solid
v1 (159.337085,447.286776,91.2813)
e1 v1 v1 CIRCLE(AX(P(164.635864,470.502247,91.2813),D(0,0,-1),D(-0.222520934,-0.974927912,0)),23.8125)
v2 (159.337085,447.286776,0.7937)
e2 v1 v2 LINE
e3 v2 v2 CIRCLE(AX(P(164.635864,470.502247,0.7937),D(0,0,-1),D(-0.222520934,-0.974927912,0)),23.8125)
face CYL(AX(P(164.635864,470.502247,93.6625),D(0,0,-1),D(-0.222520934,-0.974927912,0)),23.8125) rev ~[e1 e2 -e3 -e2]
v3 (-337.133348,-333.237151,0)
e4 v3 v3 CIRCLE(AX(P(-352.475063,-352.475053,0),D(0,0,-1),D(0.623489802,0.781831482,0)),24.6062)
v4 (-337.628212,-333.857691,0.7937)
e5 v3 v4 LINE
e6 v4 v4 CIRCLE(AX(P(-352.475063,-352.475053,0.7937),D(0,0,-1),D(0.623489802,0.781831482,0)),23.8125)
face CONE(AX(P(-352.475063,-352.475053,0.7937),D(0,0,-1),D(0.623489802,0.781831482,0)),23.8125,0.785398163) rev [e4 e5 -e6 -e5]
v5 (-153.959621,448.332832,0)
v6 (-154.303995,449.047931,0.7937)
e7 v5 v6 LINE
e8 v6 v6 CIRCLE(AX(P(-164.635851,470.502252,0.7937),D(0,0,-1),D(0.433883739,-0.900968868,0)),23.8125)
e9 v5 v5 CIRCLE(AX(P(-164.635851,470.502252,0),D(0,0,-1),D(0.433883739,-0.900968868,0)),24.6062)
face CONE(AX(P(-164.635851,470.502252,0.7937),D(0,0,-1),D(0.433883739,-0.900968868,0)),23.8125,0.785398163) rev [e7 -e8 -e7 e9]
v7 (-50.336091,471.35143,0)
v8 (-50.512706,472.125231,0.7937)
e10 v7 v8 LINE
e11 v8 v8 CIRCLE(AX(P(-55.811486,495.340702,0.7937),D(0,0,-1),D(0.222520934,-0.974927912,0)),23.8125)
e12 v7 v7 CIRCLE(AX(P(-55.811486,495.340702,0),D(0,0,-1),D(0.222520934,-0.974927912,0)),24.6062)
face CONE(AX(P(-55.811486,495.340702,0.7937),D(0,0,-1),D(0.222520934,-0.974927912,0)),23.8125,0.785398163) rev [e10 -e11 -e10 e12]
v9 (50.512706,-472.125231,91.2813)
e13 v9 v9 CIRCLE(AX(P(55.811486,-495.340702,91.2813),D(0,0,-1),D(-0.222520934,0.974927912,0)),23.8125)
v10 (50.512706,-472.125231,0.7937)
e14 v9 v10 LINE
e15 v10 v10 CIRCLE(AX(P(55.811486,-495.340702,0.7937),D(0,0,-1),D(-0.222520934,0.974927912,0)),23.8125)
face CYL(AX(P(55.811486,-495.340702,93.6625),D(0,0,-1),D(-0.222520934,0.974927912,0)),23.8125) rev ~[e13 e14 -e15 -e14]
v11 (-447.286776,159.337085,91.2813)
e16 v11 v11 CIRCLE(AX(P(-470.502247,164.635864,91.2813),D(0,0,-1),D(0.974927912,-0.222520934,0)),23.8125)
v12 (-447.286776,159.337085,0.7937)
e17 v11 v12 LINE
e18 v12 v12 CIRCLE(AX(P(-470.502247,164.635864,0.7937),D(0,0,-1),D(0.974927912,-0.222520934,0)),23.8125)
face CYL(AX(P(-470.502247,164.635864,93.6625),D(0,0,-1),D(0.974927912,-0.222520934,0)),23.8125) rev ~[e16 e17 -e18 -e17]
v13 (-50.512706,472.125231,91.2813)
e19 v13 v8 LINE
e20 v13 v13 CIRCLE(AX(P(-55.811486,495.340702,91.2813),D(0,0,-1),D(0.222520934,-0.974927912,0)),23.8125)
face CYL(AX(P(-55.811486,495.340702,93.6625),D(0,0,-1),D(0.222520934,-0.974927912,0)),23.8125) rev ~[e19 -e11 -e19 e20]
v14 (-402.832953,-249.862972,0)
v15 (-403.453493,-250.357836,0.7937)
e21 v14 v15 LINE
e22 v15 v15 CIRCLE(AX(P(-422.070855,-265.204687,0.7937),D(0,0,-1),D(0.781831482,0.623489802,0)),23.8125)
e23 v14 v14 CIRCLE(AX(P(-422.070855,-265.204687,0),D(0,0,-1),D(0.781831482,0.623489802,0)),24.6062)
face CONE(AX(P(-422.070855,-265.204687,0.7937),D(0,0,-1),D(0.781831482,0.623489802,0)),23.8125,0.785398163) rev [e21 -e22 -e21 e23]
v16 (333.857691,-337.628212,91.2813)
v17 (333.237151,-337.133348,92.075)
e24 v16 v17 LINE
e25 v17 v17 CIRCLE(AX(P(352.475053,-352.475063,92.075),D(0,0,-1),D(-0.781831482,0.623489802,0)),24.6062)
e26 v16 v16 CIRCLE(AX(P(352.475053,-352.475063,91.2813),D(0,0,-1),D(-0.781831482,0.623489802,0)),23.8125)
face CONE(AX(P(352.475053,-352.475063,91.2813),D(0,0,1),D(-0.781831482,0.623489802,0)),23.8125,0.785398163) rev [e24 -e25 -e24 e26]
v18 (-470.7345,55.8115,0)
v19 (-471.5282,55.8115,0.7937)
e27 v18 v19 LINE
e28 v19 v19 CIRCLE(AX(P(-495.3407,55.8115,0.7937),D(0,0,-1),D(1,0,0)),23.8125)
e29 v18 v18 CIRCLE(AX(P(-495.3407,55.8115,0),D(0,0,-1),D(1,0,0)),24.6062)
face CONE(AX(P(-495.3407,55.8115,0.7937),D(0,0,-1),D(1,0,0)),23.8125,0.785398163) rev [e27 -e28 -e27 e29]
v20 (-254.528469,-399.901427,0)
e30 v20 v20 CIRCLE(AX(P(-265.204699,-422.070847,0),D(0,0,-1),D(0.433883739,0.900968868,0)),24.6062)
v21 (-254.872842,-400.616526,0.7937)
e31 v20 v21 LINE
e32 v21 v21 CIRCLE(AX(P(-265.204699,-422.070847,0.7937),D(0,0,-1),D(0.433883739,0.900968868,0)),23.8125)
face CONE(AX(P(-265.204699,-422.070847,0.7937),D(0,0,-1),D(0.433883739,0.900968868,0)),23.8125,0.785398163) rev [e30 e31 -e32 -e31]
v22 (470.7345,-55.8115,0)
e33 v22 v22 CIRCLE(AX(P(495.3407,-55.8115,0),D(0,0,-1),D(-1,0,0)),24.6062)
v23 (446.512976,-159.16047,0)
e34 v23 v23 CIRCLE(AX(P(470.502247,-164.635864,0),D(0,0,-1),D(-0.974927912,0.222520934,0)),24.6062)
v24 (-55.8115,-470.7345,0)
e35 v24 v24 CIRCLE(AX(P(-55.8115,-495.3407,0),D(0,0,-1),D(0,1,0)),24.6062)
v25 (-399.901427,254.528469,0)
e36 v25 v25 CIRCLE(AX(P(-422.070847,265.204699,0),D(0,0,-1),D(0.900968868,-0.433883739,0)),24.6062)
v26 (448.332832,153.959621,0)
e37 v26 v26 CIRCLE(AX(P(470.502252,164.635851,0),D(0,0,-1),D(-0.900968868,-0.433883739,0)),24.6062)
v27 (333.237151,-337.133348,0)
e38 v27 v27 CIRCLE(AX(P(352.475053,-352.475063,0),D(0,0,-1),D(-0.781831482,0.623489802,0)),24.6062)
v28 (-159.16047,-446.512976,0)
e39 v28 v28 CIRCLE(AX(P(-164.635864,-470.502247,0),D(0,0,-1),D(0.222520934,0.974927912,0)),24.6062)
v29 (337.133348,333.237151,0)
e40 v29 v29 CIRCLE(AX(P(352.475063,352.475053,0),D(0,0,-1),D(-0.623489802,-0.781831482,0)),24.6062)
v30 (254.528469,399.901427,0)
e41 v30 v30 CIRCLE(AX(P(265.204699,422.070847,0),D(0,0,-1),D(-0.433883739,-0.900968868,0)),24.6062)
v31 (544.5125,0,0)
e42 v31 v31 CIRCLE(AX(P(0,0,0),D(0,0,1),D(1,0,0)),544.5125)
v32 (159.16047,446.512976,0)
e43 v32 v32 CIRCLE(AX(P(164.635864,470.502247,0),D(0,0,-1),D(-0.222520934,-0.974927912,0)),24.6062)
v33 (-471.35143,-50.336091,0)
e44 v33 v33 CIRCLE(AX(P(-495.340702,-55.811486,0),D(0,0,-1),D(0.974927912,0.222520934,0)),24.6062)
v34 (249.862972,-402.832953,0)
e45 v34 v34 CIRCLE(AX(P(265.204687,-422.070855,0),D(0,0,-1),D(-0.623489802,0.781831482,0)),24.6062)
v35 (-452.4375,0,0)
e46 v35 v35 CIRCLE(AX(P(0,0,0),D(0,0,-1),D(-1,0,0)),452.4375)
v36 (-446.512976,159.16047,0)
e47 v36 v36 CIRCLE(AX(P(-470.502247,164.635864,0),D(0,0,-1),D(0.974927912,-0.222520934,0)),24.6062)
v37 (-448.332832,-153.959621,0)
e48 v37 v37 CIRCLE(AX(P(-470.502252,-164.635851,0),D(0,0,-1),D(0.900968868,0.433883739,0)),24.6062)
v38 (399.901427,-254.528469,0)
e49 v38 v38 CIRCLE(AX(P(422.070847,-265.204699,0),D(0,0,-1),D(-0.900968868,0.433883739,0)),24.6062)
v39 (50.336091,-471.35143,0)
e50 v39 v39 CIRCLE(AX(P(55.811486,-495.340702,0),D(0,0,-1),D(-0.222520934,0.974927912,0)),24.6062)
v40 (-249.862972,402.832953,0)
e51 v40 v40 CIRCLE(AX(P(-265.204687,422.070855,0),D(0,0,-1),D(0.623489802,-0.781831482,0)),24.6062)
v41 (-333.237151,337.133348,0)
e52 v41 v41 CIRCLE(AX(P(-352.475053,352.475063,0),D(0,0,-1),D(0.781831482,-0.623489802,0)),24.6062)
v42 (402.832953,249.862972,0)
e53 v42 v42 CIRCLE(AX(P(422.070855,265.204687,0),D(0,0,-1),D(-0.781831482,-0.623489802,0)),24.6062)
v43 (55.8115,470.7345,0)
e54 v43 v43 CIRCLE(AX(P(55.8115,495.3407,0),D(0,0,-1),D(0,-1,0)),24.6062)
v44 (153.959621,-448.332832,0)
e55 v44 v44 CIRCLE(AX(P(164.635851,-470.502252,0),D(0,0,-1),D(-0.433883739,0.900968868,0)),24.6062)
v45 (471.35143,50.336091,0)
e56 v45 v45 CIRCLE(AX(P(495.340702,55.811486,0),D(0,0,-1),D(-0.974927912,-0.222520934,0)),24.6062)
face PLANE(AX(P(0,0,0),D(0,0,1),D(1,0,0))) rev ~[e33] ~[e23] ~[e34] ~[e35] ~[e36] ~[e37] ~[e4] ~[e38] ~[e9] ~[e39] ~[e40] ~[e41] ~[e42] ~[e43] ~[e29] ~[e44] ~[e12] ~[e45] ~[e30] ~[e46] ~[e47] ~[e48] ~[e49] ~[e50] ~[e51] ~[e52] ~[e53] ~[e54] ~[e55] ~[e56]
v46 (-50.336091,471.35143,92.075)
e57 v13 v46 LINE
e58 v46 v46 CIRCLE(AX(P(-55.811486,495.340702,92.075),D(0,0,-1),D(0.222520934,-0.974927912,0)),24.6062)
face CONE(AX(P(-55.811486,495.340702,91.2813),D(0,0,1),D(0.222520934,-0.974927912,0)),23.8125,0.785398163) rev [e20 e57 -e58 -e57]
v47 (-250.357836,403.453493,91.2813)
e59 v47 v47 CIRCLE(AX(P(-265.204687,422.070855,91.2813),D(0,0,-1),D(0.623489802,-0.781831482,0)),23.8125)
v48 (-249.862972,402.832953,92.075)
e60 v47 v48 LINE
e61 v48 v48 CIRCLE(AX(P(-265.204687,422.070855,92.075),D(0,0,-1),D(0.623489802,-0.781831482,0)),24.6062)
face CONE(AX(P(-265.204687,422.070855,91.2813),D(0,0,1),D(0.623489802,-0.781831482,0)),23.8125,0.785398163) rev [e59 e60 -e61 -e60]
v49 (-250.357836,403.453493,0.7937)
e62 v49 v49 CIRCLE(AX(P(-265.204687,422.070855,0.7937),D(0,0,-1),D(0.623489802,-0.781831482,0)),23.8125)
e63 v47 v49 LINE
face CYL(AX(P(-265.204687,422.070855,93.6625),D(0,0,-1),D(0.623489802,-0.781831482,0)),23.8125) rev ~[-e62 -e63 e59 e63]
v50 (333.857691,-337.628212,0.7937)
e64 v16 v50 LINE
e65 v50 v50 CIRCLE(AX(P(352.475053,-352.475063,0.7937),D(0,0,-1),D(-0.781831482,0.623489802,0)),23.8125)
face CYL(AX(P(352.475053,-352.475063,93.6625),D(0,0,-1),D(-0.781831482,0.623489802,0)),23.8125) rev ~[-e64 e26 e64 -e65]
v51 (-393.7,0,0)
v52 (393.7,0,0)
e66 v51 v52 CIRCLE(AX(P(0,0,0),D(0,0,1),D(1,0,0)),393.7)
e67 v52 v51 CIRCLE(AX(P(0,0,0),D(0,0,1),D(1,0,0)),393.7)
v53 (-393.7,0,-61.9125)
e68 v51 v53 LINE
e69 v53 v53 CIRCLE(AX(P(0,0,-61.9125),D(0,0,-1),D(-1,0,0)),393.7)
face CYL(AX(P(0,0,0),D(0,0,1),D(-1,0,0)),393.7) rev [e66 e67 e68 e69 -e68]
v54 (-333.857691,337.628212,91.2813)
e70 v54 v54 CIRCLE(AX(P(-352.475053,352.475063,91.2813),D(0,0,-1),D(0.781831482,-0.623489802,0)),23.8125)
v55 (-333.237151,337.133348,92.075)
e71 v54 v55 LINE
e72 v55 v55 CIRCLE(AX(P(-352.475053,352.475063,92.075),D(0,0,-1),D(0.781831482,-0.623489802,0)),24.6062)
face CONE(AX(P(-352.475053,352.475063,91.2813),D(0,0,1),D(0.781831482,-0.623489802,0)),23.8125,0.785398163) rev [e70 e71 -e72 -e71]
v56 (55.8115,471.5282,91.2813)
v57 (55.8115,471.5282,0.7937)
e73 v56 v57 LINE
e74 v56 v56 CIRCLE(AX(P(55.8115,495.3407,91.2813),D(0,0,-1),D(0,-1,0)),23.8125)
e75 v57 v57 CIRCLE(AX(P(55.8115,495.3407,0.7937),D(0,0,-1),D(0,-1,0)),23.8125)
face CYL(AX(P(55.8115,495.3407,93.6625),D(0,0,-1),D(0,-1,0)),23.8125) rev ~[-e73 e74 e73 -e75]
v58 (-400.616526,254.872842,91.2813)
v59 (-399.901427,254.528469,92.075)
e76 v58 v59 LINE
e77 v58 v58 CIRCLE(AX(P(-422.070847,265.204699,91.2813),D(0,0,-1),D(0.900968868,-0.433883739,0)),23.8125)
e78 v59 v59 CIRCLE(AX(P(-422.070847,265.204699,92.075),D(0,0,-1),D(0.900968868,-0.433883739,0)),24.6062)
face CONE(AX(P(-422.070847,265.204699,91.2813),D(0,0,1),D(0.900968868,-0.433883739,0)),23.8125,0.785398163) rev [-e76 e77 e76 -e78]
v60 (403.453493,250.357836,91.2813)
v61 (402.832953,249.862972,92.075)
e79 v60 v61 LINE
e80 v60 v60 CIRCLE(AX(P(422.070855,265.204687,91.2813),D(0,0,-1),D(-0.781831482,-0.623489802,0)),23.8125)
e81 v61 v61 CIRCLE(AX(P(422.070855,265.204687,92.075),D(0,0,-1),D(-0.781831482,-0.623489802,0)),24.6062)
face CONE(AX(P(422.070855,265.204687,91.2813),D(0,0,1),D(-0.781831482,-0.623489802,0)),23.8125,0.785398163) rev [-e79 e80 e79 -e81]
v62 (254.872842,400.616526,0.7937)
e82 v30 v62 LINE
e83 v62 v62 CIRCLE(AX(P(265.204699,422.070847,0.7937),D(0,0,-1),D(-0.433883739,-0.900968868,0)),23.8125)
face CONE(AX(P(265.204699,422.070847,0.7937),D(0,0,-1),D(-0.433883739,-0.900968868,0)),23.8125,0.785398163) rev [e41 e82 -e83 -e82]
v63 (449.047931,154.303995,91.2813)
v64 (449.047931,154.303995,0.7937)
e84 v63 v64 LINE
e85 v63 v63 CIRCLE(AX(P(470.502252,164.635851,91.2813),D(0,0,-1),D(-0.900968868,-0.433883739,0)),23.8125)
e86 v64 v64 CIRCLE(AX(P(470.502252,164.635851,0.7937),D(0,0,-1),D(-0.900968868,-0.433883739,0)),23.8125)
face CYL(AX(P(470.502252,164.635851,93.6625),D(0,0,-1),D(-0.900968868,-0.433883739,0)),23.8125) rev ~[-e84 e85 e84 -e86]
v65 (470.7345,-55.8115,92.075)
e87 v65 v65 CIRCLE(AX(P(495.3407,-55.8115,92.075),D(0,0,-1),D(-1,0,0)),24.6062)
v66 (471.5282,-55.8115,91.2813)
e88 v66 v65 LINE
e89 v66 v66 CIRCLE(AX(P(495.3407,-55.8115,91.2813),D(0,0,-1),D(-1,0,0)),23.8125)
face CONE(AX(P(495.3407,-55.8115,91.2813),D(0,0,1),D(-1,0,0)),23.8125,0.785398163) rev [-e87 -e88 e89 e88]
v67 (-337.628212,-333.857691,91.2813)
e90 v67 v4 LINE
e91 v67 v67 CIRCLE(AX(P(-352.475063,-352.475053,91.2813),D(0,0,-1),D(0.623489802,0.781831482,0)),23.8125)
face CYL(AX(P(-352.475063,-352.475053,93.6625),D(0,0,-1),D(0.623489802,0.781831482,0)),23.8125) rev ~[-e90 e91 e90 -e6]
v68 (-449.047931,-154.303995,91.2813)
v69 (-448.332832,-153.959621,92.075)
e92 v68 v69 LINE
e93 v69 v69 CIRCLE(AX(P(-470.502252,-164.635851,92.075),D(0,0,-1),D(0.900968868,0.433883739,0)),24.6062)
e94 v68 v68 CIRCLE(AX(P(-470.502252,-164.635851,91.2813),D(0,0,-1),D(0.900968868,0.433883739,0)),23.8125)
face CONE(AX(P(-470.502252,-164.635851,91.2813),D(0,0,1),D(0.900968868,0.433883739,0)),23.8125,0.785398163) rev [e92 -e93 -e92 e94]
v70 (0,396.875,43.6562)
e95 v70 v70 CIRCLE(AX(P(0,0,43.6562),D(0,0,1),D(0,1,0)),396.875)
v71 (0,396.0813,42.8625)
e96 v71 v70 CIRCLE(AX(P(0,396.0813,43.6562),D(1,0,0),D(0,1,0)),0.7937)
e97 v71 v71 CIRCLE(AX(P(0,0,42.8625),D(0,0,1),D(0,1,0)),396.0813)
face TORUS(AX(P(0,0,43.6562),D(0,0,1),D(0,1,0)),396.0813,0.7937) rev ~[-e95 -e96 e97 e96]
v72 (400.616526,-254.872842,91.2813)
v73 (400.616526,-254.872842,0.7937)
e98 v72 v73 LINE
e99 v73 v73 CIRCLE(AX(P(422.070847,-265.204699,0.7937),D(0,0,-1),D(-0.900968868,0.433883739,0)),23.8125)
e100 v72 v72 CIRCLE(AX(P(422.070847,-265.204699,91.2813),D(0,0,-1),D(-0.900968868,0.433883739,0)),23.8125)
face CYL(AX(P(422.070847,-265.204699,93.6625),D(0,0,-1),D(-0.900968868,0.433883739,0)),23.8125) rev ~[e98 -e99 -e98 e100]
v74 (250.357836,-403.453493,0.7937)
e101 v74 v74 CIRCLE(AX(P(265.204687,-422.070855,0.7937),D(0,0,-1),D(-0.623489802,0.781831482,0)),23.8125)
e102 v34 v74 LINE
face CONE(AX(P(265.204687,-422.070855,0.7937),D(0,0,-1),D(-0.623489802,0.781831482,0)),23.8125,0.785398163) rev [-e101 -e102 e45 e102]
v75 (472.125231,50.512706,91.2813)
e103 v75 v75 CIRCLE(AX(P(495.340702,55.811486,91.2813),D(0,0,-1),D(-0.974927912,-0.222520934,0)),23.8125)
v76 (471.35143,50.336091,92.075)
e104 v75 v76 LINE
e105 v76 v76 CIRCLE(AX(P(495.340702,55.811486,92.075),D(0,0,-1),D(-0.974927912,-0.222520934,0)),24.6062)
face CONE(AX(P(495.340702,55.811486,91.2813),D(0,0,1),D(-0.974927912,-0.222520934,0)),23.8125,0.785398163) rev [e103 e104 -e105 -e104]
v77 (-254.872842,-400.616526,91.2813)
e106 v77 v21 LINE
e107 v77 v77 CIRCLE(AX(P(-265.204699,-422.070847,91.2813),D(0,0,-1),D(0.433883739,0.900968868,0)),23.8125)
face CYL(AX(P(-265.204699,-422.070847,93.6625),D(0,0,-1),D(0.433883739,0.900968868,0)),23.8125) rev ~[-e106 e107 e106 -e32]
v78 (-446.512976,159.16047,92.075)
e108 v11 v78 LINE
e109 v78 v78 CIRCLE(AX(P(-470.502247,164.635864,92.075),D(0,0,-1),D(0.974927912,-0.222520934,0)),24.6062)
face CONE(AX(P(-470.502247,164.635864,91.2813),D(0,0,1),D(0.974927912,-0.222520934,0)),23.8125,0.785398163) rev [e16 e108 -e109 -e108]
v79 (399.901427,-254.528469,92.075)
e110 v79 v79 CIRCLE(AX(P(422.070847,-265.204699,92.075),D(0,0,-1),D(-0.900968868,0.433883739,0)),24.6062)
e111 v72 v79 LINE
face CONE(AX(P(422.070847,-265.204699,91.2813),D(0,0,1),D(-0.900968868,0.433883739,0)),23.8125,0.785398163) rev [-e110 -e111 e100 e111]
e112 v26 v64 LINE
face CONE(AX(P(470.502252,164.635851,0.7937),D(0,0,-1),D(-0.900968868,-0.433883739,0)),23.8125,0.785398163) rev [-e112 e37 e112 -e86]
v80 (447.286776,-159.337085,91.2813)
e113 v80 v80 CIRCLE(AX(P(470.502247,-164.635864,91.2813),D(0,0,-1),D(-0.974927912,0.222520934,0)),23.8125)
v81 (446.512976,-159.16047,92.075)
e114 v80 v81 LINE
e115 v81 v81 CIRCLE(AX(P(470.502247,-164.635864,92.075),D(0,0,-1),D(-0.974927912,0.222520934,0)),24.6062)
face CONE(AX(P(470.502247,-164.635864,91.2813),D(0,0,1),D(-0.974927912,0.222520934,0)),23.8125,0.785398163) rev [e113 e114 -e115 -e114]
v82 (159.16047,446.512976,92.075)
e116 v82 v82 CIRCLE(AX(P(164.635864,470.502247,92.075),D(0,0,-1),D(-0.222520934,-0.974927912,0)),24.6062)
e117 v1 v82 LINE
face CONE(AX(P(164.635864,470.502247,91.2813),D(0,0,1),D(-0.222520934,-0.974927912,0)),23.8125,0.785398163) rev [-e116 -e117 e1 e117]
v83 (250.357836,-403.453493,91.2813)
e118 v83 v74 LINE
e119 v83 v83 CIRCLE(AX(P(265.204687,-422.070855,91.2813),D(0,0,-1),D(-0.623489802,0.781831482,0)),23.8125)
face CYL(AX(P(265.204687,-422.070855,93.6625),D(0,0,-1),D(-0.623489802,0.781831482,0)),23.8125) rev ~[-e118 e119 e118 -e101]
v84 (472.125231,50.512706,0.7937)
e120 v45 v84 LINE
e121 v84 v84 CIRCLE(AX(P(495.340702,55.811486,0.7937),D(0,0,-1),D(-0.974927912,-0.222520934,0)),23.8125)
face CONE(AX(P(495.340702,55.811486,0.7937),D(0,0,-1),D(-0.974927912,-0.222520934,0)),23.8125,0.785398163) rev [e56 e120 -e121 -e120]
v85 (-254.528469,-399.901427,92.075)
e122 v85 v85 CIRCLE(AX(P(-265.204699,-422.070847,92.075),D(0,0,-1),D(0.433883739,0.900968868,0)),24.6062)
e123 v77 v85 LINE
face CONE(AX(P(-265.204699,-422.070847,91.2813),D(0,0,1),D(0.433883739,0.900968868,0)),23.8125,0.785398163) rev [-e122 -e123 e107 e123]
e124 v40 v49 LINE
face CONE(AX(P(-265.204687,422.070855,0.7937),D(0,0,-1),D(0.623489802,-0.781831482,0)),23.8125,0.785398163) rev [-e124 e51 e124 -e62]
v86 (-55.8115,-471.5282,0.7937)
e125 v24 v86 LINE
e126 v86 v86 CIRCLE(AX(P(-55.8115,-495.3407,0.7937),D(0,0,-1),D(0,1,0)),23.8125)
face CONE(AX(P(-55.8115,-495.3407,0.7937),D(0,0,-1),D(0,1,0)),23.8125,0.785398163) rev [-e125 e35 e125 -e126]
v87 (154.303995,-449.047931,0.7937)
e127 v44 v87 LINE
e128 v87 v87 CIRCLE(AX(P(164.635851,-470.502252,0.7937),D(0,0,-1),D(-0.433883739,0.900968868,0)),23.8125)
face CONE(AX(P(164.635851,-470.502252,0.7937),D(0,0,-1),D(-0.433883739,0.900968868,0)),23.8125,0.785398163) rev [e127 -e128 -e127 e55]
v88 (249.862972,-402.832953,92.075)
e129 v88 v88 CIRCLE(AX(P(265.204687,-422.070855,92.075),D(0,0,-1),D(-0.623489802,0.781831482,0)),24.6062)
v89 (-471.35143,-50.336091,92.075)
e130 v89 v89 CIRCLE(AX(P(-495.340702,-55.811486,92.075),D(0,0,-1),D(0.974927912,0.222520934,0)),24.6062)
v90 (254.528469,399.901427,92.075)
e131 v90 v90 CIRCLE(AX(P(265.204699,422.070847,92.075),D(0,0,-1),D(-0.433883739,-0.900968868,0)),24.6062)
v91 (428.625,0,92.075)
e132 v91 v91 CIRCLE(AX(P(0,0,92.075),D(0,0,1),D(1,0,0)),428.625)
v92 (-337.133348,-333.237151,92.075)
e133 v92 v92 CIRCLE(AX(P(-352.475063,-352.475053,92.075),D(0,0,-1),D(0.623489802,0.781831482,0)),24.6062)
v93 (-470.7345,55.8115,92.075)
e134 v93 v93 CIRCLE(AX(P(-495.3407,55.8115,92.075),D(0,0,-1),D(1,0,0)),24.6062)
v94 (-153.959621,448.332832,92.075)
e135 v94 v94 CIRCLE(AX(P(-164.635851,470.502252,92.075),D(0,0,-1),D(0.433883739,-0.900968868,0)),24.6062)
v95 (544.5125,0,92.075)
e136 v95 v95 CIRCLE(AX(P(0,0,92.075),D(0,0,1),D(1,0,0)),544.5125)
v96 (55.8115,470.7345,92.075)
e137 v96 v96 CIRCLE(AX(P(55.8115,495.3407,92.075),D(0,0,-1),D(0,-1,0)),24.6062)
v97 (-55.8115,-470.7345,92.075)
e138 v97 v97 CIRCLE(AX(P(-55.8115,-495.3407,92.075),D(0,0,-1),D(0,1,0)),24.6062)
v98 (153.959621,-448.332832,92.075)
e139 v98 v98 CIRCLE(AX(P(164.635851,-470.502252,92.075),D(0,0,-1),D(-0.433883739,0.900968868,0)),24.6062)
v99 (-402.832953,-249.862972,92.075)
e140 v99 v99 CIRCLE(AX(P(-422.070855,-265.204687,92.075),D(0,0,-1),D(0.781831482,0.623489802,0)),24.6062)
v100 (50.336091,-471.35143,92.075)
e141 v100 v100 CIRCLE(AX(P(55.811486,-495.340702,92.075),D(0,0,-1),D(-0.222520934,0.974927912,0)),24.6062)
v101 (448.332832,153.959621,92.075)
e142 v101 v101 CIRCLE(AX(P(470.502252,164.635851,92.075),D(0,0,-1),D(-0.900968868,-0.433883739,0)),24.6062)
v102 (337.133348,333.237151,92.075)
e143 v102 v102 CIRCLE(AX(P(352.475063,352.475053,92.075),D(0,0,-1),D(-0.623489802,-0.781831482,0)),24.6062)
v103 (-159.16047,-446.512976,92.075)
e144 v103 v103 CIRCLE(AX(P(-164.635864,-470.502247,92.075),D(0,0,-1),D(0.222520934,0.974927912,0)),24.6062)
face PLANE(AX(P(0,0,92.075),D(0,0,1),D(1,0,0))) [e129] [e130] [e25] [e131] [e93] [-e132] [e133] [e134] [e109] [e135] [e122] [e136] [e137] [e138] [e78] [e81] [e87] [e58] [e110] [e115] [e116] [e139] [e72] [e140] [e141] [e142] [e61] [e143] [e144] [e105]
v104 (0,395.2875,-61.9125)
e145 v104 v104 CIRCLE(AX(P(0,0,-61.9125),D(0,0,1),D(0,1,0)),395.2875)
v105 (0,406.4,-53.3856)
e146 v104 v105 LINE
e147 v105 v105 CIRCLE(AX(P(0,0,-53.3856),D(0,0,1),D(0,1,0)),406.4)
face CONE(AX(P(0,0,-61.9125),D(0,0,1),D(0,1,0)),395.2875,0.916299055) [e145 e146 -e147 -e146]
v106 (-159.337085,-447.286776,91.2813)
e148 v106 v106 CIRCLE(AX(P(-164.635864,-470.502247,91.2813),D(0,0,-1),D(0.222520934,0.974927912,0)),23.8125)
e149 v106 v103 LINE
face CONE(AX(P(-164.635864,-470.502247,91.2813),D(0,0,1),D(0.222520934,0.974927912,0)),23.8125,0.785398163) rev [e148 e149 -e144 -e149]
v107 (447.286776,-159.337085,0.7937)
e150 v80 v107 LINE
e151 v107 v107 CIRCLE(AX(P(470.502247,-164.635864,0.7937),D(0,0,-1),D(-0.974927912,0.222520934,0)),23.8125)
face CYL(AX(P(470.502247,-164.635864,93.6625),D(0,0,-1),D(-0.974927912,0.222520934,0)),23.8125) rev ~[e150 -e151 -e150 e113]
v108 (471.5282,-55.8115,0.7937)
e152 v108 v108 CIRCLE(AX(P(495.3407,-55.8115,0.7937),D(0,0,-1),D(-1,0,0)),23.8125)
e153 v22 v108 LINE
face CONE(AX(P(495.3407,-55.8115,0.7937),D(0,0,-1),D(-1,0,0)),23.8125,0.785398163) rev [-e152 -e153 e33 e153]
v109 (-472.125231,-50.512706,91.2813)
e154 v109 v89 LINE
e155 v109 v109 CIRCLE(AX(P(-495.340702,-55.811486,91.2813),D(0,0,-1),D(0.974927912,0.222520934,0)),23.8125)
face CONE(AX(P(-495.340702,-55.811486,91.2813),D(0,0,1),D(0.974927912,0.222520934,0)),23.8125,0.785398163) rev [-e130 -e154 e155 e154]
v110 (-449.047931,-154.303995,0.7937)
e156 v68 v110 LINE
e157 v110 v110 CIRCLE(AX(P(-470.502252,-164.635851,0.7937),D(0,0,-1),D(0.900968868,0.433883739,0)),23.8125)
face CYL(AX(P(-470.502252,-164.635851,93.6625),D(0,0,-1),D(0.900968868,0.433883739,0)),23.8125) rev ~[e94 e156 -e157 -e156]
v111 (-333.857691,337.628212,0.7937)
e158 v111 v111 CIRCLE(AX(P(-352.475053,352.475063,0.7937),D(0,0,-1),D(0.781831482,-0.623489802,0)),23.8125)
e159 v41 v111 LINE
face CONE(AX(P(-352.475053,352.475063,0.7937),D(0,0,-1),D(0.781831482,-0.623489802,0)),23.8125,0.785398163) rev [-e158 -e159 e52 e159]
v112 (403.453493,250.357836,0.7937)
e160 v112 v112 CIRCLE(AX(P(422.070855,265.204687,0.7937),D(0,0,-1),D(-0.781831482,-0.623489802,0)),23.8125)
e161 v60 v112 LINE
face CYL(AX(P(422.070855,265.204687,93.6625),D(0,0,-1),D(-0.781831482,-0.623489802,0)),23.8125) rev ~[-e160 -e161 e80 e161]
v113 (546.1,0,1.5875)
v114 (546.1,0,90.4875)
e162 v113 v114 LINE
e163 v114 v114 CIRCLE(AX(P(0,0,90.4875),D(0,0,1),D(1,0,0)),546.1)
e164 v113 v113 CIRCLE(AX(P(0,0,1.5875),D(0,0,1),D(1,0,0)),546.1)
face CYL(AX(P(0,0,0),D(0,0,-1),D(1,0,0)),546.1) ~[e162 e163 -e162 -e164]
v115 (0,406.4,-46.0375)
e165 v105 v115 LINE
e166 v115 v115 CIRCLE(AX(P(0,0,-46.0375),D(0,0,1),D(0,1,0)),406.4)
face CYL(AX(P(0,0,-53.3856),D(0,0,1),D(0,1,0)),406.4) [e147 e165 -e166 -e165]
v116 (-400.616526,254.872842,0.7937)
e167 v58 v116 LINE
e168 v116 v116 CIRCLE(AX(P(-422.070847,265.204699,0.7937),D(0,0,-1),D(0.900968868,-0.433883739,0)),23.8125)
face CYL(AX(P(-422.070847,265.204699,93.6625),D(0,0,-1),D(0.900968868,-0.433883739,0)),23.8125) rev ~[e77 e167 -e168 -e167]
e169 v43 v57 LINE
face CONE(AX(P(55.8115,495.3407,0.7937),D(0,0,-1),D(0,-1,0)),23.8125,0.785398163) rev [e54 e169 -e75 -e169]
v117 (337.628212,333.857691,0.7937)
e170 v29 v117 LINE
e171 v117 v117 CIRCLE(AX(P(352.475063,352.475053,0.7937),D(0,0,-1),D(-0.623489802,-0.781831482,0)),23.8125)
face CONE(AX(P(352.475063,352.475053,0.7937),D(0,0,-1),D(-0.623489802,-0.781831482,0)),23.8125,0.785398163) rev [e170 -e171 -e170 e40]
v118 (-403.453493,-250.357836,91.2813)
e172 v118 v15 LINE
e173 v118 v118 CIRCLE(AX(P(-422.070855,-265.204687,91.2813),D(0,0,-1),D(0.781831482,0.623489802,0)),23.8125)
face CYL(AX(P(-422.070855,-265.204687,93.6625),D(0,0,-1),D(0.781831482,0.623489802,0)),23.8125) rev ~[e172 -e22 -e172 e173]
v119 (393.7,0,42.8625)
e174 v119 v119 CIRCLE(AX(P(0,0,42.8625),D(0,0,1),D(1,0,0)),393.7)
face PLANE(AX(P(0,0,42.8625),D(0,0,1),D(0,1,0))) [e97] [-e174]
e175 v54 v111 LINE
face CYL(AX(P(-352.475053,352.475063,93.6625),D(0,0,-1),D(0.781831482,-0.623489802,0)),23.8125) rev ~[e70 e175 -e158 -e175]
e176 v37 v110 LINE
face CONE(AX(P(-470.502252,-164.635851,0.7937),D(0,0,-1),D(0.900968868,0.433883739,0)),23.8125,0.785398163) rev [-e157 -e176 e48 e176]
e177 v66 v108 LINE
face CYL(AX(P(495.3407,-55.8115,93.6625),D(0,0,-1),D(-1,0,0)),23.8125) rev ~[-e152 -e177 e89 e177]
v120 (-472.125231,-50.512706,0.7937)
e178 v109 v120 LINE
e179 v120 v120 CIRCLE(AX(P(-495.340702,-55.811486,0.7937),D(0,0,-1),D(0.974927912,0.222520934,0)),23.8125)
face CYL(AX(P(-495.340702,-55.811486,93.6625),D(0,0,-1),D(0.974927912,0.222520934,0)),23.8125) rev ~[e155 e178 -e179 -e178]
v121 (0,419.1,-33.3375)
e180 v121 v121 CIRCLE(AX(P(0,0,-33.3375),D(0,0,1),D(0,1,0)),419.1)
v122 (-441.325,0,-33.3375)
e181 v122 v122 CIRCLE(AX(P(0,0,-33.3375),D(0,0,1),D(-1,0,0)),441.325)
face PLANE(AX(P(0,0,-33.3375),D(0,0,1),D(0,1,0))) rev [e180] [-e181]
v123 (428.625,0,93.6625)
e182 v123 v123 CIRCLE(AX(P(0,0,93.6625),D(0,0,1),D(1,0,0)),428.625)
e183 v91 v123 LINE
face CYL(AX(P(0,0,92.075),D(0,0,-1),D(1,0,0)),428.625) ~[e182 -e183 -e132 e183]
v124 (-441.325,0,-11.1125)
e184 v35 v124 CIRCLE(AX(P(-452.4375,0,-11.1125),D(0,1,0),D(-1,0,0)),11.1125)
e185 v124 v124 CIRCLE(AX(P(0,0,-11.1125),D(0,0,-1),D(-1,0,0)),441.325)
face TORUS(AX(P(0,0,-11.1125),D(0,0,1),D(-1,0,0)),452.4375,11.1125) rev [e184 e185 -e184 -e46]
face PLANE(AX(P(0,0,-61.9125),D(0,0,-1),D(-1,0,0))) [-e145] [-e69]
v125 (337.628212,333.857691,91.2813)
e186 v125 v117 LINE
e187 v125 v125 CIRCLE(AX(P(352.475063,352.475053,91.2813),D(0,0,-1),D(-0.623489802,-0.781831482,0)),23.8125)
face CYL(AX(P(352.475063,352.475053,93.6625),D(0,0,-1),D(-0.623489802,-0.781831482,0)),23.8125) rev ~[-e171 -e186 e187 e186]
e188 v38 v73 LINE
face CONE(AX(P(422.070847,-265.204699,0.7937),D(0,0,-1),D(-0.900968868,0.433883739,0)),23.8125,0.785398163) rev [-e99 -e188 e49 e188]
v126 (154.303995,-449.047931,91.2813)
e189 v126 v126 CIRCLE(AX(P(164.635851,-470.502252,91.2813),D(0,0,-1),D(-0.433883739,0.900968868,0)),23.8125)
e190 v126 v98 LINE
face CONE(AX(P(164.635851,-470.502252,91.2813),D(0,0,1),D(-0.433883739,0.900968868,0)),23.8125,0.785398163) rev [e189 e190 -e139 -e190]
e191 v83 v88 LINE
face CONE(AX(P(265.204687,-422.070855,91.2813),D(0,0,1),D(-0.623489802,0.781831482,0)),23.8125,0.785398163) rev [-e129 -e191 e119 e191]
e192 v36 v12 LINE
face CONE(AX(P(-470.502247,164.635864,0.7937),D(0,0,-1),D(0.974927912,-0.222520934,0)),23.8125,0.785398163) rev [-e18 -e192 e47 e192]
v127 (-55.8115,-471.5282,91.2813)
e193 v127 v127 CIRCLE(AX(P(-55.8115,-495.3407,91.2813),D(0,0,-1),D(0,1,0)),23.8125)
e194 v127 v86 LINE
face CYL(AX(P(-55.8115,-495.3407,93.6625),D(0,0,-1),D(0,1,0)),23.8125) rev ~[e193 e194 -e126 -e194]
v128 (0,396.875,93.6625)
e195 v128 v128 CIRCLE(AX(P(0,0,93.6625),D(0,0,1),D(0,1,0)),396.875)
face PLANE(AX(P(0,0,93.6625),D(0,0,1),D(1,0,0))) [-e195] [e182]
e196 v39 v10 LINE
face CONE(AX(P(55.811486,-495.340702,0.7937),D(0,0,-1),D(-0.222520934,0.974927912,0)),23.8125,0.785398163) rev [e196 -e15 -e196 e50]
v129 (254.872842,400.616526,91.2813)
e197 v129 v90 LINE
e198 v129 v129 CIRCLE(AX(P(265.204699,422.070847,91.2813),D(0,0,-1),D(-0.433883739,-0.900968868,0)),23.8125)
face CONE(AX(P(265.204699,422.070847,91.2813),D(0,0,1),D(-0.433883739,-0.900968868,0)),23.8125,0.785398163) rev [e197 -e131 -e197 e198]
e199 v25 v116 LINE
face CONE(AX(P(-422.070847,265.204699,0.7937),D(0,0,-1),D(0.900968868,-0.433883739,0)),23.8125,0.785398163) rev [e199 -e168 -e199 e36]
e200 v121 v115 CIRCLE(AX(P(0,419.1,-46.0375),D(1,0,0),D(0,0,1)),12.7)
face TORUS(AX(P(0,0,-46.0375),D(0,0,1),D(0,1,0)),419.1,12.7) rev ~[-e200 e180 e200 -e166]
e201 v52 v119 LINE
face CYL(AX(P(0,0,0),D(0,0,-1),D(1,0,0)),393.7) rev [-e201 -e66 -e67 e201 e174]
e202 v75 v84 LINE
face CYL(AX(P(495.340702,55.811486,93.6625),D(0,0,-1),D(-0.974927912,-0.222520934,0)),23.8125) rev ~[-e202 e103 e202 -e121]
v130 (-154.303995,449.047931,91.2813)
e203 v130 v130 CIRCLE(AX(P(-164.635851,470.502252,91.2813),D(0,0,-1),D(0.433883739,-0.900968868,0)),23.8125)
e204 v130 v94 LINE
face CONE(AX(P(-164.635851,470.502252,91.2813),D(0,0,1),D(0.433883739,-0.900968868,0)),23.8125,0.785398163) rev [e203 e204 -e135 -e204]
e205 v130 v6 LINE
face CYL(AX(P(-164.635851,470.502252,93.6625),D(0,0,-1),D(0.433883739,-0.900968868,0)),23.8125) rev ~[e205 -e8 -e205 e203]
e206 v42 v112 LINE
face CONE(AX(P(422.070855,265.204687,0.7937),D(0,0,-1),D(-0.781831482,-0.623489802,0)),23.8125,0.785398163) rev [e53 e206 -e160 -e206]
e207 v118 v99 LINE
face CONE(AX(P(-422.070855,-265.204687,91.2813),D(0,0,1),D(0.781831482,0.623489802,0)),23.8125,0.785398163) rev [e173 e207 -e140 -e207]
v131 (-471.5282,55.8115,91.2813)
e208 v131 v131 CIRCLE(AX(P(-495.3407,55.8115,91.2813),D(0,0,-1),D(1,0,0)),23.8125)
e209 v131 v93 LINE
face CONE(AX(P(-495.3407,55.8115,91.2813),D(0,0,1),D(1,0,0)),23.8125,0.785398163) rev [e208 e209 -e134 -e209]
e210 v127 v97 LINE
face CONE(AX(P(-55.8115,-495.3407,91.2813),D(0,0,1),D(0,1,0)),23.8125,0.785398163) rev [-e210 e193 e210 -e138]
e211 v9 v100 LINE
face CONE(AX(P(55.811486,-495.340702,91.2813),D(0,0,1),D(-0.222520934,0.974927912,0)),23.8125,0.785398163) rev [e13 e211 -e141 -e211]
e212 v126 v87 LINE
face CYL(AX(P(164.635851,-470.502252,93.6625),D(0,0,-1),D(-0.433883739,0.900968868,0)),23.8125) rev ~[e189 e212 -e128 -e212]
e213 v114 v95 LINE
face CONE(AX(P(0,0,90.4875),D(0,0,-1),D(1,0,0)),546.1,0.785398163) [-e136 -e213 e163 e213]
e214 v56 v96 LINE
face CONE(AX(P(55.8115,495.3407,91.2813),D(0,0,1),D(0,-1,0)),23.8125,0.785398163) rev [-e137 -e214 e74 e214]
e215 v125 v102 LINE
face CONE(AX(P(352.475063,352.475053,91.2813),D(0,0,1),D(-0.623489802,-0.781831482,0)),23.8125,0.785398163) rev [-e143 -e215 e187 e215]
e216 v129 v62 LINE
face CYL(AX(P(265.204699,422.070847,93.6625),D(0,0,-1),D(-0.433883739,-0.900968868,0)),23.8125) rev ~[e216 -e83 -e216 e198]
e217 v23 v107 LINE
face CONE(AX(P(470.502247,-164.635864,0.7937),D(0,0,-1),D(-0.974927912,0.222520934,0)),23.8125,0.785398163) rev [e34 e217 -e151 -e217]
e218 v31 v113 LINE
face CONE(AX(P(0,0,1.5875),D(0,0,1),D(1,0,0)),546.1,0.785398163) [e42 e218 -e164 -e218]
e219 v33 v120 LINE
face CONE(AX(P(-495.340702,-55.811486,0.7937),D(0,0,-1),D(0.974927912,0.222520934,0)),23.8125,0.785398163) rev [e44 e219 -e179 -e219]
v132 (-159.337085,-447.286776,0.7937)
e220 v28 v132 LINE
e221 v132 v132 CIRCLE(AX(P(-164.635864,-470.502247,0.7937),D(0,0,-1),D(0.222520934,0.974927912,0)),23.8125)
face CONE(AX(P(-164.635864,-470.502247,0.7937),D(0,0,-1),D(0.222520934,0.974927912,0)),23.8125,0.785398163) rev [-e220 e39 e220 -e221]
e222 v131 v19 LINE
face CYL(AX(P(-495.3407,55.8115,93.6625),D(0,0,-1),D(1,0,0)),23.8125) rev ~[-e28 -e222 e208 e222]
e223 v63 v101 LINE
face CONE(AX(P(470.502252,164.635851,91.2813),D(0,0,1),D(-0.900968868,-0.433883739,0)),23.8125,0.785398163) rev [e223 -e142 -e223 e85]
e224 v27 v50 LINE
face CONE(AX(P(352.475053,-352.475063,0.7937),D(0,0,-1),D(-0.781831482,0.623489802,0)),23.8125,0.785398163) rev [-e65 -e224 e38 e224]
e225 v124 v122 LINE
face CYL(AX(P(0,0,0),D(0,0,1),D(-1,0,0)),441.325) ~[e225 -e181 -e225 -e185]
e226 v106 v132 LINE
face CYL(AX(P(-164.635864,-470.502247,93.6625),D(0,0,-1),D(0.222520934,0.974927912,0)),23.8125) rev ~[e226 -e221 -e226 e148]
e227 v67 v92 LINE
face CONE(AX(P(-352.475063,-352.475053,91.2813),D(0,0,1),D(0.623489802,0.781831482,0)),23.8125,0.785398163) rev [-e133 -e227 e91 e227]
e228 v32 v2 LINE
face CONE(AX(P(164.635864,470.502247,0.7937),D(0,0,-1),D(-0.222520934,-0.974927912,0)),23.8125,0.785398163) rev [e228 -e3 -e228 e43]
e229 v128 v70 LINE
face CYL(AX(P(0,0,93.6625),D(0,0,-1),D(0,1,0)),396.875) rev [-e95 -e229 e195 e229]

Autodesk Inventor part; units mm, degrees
ref_plane "YZ Plane" through (0, 0, 0) normal (1, 0, 0) x (0, 1, 0)
ref_plane "XZ Plane" through (0, 0, 0) normal (0, 1, 0) x (-1, 0, 0)
ref_plane "XY Plane" through (0, 0, 0) normal (0, 0, 1) x (1, 0, 0)
sketch "Sketch1" plane through (0, 0, 0) normal (0, 0, 1) x (1, 0, 0)
  circle A0 centre (0, 0) radius 546.1
  circle A1 centre (0, 0) radius 393.7
  dimension "d0" = 1092.2
  dimension "d1" = 787.4
extrude "Extrusion1" add sketch "Sketch1" along normal blind 92.075
sketch "Sketch2" plane through (0, 0, 92.075) normal (0, 0, 1) x (1, 0, 0)
  circle A0 centre (0, 0) radius 393.7 projected
  circle A1 centre (0, 0) radius 546.1 projected
  circle A2 centre (0, 0) radius 428.625
  dimension "d4" = 857.25
extrude "Extrusion2" add sketch "Sketch2" along normal blind 1.5875 contours A2
sketch "Sketch3" plane through (0, 0, 0) normal (0, 0, -1) x (-1, 0, 0)
  circle A0 centre (0, 0) radius 393.7 projected
  circle A1 centre (0, 0) radius 546.1 projected
  circle A2 centre (0, 0) radius 441.325
  dimension "d7" = 882.65
extrude "Extrusion3" add sketch "Sketch3" along normal blind 61.9125 contours A2
sketch "Sketch4" plane through (0, 0, 93.6625) normal (0, 0, 1) x (1, 0, 0)
  circle A0 centre (0, 0) radius 428.625 projected
  line L0 (0, -764.54) -> (0, 764.54) projected
  line L1 (-764.54, 0) -> (764.54, 0) projected
  line L2 (0, 0) -> (55.8115, 495.3407) construction
  dimension "d13" = 498.475
  dimension "d14" = 6.429
hole "Hole1" at (55.8115, 495.3407, 93.6625) direction (0, 0, -1) diameter 47.625 end through all
chamfer "Chamfer3" distance 0.7937 angle 45 2 edges at (55.8115, 519.1532, 0) (55.8115, 519.1532, 92.075)
pattern_circular "Circular Pattern1" count 28 over 360 about axis through (0, 0, -10) along (0, 0, -1) of "Hole1", "Chamfer3"
chamfer "Chamfer2" distance 1.5875 angle 45 2 edges at (-546.1, 0, 92.075) (-546.1, 0, 0)
fillet "Fillet2" radius 11.1125 1 edges at (441.325, 0, 0)
chamfer "Chamfer4" distance 1.5875 angle 45 1 edges at (441.325, 0, -61.9125)
sketch "Sketch6" plane through (0, 0, 0) normal (1, 0, 0) x (0, 1, 0)
  line L0 (441.325, -11.1125) -> (441.325, -60.325) construction
  line L1 (439.7375, -61.9125) -> (-439.7375, -61.9125) construction
  line L2 (0, -93.0275) -> (0, 124.7775) projected
  line L3 (393.7, -61.9125) -> (393.7, 93.6625) construction
  line L4 (396.875, 93.6625) -> (396.875, 42.8625)
  line L5 (396.875, 42.8625) -> (393.7, 42.8625)
  line L6 (393.7, 42.8625) -> (393.7, 93.6625)
  line L7 (441.325, -33.3375) -> (441.325, -61.9125)
  line L8 (441.325, -61.9125) -> (395.2875, -61.9125)
  line L9 (395.2875, -61.9125) -> (406.4, -53.3856)
  line L10 (406.4, -53.3856) -> (406.4, -46.0375)
  arc A0 (419.1, -33.3375) -> (406.4, -46.0375) centre (419.1, -46.0375) ccw
  line L11 (419.1, -33.3375) -> (441.325, -33.3375)
  line L12 (393.7, 93.6625) -> (396.875, 93.6625)
  point P0 (0, 0)
  dimension "d71" = 50.8
  dimension "d72" = 396.875
  dimension "d94" = 406.4
  dimension "d95" = 11.1125
  dimension "d96" = 37.5
  dimension "d99" = 12.7
  dimension "d100" = 15.875
  dimension "d101" = 7.3481
revolve "Revolution1" cut sketch "Sketch6" angle 360 about axis through (0, 0, -10) along (0, 0, 1)
fillet "Fillet5" radius 0.7937 1 edges at (0, -396.875, 42.8625)
equation "\"d0\" = OD"
equation "\"d1\" = Bore"
equation "\"d2\" = Thickness"
equation "\"d4\" = RFDia"
equation "\"d5\" = RFDepth"
equation "\"d7\" = NeckDia"
equation "\"d8\" = NeckLength"
equation "\"d13\" = 0.5 * BCD"
equation "\"d15\" = HoleDia"
equation "\"d30\" = HoleChamfer"
equation "\"d25\" = RimChamfer"
equation "\"d29\" = NeckFillet"
equation "\"d33\" = NeckChamfer"
equation "\"OD\" = 1092.2"
equation "\"Bore\" = 787.4"
equation "\"Thickness\" = 92.075"
equation "\"RFDia\" = 857.25"
equation "\"RFDepth\" = 1.5875"
equation "\"HoleDia\" = 47.625"
equation "\"BCD\" = 996.95"
equation "\"NeckDia\" = 882.65"
equation "\"NeckLength\" = 61.9125"
equation "\"HoleChamfer\" = 0.79375"
equation "\"RimChamfer\" = 1.5875"
equation "\"NeckChamfer\" = 1.5875"
equation "\"NeckFillet\" = 11.1125"
equation "\"Lock\" = 25.4"
equation "\"Lockstep\" = 3.175"
equation "\"Casing\" = 812.8"
equation "\"Size\" = 762"
equation "\"Wall\" = 12.7"
properties part number "A1-19027-300-03 30in CL300 RF flange" material "Steel"
